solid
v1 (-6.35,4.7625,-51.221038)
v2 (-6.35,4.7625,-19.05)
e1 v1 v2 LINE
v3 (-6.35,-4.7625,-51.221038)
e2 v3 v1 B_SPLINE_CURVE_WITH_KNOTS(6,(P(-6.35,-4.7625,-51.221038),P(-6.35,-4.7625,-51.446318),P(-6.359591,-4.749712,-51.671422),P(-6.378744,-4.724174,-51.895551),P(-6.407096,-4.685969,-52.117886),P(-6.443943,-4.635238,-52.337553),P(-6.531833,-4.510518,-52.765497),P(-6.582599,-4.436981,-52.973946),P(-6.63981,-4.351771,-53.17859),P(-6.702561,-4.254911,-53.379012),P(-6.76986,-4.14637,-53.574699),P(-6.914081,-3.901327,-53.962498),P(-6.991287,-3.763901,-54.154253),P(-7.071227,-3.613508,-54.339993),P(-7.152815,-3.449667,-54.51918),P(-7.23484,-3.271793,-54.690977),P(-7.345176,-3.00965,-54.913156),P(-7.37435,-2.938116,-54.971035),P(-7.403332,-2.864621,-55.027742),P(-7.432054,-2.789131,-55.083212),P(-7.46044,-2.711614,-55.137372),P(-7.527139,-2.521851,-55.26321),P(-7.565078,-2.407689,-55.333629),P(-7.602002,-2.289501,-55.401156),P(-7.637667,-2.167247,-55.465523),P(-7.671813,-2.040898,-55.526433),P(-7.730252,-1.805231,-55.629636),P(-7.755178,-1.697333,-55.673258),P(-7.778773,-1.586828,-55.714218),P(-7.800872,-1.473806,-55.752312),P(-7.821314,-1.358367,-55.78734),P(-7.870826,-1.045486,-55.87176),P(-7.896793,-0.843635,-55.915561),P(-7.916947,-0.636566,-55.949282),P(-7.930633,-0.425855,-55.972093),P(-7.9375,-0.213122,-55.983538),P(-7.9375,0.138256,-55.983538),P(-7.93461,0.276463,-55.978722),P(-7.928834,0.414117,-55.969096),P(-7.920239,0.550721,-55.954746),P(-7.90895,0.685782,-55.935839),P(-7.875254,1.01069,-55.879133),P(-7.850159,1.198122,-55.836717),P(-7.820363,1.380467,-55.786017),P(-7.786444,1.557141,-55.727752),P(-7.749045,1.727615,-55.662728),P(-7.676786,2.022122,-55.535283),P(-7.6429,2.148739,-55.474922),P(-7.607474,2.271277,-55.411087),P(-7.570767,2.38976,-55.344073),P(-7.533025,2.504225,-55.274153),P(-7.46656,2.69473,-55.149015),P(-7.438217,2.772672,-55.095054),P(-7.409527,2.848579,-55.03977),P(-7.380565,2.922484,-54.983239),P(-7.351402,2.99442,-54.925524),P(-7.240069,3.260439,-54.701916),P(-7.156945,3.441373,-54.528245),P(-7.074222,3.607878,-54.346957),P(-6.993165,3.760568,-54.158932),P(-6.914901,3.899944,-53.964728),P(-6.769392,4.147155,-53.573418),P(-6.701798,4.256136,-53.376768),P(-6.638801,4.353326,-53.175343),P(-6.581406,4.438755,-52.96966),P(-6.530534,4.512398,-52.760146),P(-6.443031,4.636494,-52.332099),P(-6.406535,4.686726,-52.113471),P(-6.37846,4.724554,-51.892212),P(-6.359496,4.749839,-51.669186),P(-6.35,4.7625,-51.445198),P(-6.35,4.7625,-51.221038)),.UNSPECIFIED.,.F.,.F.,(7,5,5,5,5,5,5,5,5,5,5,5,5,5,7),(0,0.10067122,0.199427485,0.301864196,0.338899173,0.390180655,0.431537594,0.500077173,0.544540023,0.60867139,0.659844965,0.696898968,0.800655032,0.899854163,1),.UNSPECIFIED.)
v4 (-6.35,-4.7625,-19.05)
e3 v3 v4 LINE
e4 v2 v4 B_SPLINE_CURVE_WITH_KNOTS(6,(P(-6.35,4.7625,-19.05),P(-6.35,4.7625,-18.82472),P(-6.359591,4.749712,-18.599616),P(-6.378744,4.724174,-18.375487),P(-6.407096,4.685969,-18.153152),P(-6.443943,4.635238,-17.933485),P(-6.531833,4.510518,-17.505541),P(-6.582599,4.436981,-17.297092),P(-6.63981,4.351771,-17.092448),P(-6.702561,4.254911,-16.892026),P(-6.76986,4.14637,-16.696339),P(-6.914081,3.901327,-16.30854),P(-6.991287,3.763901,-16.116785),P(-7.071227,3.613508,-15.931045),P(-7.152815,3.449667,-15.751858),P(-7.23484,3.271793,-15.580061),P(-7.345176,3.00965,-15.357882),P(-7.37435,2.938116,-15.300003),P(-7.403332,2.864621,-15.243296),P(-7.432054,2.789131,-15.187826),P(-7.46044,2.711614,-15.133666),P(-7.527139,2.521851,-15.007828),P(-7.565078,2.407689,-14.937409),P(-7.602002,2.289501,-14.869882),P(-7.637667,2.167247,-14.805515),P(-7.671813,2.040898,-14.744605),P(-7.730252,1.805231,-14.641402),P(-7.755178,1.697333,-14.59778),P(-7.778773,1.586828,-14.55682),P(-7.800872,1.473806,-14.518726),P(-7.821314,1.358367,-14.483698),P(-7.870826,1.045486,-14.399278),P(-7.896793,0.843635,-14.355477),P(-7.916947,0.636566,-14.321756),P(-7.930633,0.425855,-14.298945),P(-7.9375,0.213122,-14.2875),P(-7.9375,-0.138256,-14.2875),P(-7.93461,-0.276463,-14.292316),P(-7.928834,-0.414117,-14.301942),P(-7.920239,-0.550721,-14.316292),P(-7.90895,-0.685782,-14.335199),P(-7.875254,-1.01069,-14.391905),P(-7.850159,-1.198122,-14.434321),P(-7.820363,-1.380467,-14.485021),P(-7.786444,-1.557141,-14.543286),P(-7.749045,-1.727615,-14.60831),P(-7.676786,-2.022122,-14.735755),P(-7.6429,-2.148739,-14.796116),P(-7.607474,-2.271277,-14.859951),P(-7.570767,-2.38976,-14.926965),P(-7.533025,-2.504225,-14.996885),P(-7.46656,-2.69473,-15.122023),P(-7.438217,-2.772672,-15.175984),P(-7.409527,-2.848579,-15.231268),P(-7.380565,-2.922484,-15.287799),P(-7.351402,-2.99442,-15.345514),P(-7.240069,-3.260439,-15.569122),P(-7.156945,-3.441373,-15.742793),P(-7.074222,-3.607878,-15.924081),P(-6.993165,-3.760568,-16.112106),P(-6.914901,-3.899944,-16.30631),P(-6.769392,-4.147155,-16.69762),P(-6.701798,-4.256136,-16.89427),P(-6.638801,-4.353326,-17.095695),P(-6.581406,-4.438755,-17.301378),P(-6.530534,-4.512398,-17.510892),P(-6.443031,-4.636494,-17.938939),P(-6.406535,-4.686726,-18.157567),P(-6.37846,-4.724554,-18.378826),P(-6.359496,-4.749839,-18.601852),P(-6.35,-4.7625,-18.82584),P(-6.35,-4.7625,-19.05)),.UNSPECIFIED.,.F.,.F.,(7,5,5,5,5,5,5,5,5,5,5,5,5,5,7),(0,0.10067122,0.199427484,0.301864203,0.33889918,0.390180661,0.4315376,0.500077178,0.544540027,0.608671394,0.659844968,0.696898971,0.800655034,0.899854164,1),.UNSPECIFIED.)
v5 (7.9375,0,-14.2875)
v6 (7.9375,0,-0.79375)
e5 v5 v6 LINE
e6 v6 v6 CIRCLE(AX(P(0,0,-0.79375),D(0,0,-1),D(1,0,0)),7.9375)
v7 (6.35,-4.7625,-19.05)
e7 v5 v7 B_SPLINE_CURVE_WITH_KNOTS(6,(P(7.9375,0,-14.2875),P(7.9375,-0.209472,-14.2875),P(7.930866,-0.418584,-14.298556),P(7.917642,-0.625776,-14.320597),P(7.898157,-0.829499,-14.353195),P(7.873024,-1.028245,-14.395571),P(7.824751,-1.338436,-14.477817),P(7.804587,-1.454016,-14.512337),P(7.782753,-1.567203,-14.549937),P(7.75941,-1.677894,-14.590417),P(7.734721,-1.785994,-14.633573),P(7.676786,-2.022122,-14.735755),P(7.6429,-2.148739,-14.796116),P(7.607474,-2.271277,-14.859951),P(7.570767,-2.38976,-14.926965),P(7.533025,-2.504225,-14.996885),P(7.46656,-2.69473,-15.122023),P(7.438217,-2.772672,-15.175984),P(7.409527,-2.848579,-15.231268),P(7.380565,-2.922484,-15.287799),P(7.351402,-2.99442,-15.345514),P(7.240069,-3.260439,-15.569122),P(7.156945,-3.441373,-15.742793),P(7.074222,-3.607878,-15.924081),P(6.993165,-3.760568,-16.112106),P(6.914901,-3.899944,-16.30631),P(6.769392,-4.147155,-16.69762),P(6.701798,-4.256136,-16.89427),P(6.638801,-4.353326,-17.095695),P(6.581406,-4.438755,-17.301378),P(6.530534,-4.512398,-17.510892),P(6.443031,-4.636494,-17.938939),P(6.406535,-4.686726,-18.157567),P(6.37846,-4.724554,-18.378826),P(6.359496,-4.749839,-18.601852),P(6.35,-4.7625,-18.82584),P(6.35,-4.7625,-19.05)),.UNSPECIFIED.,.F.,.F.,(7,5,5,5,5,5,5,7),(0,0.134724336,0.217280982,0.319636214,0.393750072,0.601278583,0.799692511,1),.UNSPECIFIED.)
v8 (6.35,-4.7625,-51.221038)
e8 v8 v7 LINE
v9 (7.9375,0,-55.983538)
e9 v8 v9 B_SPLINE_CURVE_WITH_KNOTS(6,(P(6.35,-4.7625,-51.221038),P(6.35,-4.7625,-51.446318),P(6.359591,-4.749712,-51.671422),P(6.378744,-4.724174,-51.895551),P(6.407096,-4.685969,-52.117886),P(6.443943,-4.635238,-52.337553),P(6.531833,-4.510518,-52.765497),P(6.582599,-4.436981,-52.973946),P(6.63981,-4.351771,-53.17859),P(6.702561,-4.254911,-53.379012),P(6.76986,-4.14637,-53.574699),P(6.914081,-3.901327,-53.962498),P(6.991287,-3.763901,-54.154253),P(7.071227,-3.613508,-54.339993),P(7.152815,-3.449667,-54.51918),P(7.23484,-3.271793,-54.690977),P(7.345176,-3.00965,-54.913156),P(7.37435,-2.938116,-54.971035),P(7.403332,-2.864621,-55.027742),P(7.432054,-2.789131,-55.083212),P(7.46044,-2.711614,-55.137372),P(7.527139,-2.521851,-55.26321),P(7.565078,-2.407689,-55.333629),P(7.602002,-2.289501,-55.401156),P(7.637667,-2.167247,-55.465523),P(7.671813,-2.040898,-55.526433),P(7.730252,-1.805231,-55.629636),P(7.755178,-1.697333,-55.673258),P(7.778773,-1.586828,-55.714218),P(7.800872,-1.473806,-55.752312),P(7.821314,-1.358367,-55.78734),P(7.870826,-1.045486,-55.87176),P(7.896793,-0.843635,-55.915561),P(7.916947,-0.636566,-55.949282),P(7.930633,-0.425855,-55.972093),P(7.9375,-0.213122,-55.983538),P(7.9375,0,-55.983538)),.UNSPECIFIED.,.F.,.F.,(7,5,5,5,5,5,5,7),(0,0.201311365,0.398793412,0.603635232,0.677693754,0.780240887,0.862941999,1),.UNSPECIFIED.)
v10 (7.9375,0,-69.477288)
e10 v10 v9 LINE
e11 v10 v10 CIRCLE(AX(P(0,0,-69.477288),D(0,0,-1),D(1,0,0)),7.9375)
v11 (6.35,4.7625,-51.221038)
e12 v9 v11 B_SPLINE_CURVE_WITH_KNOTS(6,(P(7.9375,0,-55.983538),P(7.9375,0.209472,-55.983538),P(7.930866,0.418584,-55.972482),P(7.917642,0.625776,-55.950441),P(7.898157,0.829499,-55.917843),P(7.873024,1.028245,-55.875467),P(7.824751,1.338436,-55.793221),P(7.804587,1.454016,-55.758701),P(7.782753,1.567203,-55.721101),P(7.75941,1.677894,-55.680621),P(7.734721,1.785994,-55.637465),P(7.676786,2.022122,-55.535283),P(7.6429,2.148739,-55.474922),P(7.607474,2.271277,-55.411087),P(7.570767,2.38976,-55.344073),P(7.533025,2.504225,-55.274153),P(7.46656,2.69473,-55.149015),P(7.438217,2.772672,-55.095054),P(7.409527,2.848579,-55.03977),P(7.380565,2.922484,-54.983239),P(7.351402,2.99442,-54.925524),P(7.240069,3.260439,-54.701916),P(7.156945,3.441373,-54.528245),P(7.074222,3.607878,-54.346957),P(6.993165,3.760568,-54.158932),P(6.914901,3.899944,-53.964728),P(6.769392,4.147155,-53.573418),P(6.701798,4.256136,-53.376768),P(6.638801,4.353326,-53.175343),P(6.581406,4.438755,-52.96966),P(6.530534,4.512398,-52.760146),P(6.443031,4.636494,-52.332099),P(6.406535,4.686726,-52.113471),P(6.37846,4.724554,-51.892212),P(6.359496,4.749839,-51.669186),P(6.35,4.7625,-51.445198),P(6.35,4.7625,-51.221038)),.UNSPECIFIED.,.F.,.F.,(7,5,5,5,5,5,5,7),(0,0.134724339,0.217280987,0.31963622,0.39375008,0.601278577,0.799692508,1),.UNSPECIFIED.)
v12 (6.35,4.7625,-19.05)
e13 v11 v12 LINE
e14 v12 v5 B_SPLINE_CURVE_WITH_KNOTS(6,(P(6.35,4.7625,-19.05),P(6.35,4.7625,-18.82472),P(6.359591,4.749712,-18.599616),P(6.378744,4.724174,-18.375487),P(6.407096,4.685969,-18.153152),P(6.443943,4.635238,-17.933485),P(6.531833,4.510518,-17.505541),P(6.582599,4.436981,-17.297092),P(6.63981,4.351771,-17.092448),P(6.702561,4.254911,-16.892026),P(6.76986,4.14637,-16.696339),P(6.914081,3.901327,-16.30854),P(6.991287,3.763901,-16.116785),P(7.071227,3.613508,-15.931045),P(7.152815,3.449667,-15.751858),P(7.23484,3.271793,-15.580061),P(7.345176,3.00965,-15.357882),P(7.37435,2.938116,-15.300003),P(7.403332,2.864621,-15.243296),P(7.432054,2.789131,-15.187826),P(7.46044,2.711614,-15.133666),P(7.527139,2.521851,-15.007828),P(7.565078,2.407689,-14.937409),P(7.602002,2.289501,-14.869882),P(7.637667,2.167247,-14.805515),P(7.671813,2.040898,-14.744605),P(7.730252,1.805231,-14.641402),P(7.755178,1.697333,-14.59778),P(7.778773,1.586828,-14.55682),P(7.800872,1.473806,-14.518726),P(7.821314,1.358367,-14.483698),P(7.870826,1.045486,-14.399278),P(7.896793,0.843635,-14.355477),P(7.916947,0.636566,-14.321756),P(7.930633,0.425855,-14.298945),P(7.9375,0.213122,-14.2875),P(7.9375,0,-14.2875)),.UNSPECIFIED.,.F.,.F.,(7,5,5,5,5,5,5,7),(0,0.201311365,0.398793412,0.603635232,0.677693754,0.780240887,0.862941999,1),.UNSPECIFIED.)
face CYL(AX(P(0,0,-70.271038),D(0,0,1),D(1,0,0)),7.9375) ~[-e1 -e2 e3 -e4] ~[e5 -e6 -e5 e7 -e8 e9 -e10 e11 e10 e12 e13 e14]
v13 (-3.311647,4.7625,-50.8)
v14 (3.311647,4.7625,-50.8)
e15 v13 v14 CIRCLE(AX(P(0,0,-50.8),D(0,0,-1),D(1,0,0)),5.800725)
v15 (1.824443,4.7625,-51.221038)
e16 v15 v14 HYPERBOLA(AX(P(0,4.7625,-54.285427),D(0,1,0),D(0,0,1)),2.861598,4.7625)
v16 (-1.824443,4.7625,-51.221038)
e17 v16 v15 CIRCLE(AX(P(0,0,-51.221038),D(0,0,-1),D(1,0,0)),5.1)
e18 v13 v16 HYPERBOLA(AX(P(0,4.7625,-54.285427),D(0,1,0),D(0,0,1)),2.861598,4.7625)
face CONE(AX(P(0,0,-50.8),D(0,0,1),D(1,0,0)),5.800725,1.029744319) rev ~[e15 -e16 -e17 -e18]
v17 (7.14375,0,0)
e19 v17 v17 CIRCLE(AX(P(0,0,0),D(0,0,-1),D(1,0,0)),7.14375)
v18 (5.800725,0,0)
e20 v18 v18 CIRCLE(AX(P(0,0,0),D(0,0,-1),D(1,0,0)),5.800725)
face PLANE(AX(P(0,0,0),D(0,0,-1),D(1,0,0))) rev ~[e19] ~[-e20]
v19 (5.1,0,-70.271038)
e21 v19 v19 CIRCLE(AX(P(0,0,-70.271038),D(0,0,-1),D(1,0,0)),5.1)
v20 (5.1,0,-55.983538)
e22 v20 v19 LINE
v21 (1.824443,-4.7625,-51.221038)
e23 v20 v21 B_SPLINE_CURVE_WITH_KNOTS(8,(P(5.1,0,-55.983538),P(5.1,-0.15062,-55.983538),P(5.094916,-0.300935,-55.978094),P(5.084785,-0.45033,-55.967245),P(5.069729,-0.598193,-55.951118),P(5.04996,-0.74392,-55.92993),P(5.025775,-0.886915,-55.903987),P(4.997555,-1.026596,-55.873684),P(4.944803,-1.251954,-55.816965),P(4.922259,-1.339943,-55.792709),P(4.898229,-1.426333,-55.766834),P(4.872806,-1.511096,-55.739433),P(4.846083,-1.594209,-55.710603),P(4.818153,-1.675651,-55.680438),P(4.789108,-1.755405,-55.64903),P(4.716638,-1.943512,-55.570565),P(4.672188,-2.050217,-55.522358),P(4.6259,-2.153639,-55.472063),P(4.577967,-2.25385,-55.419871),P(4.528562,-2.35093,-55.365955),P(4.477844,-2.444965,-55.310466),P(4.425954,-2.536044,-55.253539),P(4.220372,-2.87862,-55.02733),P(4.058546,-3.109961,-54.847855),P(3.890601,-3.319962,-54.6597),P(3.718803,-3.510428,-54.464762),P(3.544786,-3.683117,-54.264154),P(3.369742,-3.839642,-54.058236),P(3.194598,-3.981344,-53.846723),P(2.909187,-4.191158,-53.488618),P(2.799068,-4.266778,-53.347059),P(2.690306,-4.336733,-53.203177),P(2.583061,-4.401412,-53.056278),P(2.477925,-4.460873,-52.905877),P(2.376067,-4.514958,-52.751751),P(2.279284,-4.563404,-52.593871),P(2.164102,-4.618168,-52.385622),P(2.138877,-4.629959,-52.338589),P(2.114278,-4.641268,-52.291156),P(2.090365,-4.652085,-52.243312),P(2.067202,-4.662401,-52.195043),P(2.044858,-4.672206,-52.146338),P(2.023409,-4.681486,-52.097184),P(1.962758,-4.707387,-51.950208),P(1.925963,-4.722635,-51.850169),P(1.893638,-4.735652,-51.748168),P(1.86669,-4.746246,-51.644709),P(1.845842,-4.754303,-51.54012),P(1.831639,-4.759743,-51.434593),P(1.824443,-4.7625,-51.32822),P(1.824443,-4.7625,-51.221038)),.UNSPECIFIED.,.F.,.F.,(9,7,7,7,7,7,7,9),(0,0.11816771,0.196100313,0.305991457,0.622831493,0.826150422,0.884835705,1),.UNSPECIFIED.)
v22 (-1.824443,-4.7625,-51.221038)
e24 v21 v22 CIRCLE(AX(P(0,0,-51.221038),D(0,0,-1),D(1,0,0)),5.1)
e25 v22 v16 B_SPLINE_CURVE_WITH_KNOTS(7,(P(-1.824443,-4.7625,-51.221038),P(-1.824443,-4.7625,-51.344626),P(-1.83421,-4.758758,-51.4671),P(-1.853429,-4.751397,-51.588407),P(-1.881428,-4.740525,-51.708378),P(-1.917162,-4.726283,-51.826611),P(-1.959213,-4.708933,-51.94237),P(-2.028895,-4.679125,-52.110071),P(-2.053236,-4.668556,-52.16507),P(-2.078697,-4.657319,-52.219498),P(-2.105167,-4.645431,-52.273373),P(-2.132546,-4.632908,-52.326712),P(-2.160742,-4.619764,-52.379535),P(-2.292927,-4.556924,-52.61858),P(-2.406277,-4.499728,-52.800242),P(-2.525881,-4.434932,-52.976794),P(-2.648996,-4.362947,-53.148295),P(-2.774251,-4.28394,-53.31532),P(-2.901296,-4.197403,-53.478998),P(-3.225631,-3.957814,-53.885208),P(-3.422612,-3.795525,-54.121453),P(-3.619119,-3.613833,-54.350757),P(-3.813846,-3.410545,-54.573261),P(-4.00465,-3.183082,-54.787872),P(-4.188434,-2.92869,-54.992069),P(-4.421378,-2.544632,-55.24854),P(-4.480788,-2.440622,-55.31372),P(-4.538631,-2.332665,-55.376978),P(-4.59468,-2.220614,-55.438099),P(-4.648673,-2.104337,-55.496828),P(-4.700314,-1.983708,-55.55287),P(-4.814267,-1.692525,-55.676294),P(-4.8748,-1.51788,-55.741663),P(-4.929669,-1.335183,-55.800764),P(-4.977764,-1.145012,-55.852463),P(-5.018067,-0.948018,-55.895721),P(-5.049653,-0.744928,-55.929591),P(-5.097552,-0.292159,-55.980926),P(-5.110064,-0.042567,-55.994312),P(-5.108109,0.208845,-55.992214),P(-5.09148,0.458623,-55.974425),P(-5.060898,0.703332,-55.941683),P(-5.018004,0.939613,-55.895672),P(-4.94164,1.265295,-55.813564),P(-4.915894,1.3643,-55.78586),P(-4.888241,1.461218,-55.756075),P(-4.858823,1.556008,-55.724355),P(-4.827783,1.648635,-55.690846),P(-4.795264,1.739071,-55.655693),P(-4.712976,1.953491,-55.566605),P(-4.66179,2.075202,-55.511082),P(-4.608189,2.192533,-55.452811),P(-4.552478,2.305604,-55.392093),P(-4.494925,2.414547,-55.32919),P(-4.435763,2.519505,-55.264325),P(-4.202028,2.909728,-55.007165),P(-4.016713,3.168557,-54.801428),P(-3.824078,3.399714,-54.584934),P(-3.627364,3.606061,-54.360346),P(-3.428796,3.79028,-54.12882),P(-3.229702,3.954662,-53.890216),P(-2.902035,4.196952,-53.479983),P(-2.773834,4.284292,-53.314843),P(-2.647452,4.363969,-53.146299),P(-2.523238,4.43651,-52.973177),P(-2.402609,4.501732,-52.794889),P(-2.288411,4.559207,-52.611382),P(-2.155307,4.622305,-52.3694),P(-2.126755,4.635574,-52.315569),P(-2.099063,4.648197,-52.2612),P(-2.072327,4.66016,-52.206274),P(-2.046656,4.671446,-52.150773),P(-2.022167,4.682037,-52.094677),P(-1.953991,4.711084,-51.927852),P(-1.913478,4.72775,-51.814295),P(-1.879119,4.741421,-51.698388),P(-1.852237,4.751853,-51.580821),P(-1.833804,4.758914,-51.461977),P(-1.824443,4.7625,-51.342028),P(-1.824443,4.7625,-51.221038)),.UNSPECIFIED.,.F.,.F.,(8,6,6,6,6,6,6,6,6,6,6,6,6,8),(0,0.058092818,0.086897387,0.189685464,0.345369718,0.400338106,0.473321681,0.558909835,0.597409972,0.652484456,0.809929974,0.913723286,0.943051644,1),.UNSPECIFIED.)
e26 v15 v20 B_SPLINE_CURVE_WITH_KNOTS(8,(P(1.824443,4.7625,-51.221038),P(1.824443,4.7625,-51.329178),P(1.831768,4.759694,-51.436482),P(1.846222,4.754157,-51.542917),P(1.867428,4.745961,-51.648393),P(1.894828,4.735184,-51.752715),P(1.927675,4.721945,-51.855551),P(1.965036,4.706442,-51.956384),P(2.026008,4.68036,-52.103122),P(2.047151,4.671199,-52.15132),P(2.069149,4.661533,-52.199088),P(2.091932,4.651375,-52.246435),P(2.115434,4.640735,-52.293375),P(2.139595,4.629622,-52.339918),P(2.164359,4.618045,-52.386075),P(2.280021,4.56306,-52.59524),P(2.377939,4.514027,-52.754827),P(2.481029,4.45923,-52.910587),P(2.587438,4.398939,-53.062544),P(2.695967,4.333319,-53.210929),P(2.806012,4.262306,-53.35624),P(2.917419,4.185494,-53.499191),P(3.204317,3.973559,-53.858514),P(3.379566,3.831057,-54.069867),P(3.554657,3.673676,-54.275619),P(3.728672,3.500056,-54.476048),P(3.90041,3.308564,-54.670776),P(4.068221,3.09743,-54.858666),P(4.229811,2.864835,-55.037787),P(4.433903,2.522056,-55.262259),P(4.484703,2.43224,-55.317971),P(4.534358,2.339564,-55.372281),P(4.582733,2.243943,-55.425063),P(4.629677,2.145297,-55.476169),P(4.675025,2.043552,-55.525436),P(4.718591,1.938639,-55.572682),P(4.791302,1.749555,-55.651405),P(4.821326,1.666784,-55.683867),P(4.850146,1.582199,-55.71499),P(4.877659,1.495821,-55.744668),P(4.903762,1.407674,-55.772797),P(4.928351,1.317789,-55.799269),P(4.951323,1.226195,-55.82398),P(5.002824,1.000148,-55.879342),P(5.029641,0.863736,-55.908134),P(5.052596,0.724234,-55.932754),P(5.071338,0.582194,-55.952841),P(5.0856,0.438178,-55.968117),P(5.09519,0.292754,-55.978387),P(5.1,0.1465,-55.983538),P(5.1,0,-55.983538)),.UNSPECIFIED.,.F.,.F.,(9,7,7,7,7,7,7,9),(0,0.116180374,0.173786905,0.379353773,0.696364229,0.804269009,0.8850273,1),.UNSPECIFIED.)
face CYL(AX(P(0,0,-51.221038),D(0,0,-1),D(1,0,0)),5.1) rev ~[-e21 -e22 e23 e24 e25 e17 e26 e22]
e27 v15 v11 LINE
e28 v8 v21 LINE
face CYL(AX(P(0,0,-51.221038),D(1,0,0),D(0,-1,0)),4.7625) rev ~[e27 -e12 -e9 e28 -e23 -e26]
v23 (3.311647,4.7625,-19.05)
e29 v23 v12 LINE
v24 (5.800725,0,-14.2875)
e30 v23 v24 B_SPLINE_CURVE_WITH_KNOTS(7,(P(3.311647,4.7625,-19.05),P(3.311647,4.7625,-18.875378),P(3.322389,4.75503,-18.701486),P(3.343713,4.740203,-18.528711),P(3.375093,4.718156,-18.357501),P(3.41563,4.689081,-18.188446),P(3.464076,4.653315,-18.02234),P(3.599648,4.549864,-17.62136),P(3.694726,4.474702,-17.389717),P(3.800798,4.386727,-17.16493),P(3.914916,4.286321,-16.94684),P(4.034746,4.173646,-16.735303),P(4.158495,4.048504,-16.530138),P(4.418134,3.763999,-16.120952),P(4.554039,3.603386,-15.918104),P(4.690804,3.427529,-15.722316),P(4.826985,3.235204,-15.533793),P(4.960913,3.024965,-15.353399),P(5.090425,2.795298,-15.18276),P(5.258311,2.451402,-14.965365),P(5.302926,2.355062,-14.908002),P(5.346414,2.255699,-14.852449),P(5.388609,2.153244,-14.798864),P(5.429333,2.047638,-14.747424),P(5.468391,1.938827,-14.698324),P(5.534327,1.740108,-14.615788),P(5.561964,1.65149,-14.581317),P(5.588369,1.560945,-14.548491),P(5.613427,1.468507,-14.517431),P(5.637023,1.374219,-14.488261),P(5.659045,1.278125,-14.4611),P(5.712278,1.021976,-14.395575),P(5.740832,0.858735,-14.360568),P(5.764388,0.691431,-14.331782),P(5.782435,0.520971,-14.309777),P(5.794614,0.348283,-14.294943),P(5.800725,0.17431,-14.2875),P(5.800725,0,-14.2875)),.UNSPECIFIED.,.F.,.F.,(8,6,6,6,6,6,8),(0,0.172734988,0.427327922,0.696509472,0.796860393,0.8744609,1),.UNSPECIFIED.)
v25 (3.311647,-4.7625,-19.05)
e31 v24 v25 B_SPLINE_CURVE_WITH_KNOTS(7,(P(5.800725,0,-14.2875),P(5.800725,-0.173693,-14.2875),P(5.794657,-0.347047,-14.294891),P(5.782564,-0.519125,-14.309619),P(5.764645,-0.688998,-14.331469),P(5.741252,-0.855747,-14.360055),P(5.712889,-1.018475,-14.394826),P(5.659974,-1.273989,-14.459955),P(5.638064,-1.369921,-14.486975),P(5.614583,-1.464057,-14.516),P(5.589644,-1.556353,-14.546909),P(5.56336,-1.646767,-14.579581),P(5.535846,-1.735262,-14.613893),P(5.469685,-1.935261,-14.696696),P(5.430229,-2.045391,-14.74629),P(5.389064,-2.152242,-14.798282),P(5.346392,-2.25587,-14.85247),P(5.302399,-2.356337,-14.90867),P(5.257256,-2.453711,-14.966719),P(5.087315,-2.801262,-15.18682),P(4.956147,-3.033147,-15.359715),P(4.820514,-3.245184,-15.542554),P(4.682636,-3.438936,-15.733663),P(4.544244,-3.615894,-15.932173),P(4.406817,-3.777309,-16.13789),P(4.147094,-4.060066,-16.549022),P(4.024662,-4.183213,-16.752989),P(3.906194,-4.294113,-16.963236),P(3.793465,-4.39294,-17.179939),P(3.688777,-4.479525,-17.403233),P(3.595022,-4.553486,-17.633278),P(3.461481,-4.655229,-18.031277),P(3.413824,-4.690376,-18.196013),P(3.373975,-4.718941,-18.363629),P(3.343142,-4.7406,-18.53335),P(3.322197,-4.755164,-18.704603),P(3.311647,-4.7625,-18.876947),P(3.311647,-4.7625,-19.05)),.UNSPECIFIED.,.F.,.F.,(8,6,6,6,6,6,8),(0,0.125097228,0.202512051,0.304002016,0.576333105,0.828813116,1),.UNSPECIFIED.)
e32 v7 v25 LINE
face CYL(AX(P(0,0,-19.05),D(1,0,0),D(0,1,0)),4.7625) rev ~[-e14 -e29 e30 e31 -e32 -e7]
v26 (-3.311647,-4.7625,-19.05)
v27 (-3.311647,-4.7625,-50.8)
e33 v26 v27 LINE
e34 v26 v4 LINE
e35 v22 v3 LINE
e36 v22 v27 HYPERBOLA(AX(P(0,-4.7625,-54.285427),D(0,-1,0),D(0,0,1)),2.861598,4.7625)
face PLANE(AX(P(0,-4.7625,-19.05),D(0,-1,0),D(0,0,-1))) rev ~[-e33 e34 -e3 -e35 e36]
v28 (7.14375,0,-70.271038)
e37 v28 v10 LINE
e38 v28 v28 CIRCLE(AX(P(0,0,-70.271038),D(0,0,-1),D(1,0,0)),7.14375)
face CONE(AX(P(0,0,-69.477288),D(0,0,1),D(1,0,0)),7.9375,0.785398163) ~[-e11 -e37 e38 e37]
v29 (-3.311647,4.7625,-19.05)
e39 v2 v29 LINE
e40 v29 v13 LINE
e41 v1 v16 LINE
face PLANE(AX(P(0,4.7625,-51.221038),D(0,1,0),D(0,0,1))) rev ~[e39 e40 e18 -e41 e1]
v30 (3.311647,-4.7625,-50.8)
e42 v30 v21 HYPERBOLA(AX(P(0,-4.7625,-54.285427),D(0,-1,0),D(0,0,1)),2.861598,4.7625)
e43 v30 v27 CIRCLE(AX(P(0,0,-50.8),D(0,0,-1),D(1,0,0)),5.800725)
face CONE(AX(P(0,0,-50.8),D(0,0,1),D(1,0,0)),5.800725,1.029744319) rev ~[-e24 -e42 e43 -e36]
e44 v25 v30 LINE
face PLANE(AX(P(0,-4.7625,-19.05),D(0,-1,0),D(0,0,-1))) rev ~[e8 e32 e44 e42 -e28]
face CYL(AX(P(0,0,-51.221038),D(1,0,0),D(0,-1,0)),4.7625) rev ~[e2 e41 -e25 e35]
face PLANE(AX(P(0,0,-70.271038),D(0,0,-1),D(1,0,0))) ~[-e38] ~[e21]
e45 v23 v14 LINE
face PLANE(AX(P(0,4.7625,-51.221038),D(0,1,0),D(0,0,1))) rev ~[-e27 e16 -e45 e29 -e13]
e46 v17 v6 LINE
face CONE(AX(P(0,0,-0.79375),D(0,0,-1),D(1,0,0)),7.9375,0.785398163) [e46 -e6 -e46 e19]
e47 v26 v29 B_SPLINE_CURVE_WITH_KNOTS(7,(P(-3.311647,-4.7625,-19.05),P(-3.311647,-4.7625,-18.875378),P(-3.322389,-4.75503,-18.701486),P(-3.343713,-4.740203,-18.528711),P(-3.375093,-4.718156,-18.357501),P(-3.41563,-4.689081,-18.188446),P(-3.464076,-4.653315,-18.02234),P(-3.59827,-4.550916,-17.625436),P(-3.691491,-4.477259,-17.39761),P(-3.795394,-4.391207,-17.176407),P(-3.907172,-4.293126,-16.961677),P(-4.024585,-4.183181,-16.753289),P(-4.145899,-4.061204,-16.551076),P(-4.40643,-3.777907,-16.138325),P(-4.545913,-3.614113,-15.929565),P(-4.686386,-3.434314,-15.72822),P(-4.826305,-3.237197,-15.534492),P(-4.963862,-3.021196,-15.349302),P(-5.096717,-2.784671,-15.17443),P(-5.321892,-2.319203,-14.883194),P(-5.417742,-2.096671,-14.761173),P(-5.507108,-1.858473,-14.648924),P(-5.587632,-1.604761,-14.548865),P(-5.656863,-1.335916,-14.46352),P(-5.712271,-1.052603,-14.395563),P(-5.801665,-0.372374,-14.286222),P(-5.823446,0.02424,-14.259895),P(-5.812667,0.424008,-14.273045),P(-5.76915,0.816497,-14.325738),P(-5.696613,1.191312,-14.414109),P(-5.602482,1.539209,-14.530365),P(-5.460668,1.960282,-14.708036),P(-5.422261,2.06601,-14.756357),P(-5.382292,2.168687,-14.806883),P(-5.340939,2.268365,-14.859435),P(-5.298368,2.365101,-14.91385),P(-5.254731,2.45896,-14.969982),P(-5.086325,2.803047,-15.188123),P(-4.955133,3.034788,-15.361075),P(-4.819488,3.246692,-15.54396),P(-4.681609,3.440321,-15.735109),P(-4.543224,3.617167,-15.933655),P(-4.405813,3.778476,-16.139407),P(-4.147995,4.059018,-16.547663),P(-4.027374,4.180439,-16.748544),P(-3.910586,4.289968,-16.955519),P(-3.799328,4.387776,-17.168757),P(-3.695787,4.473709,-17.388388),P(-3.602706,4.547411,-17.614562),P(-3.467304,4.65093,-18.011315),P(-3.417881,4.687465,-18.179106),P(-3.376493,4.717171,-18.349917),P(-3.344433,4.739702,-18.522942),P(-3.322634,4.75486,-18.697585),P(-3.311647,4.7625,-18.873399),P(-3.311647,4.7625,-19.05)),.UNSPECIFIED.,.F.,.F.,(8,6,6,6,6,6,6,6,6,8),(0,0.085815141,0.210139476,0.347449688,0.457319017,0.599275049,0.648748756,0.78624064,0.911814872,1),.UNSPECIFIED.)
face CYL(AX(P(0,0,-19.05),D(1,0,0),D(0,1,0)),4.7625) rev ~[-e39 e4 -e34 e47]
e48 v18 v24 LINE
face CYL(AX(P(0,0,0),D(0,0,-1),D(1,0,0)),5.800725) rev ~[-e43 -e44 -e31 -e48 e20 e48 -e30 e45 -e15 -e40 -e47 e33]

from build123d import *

# Parameters (mm, degrees)
F2_SIZE  = 0.79375
F4_DEPTH = 12.7


with BuildPart() as f1:
    # F0 (on Front) → F1 (revolve)
    with BuildSketch(Plane.XZ):
        Polygon((7.9375, 0), (5.800725, 0), (5.800725, -50.8), (5.1, -51.221038), (5.1, -70.271038), (7.9375, -70.271038), align=None)
    revolve(axis=Axis((0, 0, -3.067858), (0, 0, -1)))

    # F2
    f2_edges = [f1.edges().sort_by_distance(p)[0] for p in [
        (-7.9375, 0, 0),
        (-7.9375, 0, -70.271038),
    ]]
    chamfer(f2_edges, length=F2_SIZE)

    # F3 (on Right) → F4 (cut, symmetric)
    with BuildSketch(Plane.YZ):
        with BuildLine():
            ThreePointArc((-4.7625, -51.221038), (0, -55.983538), (4.7625, -51.221038))
            Line((4.7625, -51.221038), (4.7625, -19.05))
            ThreePointArc((4.7625, -19.05), (0, -14.2875), (-4.7625, -19.05))
            Line((-4.7625, -19.05), (-4.7625, -51.221038))
        make_face()
    extrude(amount=F4_DEPTH, both=True, mode=Mode.SUBTRACT)


solid = f1.part
